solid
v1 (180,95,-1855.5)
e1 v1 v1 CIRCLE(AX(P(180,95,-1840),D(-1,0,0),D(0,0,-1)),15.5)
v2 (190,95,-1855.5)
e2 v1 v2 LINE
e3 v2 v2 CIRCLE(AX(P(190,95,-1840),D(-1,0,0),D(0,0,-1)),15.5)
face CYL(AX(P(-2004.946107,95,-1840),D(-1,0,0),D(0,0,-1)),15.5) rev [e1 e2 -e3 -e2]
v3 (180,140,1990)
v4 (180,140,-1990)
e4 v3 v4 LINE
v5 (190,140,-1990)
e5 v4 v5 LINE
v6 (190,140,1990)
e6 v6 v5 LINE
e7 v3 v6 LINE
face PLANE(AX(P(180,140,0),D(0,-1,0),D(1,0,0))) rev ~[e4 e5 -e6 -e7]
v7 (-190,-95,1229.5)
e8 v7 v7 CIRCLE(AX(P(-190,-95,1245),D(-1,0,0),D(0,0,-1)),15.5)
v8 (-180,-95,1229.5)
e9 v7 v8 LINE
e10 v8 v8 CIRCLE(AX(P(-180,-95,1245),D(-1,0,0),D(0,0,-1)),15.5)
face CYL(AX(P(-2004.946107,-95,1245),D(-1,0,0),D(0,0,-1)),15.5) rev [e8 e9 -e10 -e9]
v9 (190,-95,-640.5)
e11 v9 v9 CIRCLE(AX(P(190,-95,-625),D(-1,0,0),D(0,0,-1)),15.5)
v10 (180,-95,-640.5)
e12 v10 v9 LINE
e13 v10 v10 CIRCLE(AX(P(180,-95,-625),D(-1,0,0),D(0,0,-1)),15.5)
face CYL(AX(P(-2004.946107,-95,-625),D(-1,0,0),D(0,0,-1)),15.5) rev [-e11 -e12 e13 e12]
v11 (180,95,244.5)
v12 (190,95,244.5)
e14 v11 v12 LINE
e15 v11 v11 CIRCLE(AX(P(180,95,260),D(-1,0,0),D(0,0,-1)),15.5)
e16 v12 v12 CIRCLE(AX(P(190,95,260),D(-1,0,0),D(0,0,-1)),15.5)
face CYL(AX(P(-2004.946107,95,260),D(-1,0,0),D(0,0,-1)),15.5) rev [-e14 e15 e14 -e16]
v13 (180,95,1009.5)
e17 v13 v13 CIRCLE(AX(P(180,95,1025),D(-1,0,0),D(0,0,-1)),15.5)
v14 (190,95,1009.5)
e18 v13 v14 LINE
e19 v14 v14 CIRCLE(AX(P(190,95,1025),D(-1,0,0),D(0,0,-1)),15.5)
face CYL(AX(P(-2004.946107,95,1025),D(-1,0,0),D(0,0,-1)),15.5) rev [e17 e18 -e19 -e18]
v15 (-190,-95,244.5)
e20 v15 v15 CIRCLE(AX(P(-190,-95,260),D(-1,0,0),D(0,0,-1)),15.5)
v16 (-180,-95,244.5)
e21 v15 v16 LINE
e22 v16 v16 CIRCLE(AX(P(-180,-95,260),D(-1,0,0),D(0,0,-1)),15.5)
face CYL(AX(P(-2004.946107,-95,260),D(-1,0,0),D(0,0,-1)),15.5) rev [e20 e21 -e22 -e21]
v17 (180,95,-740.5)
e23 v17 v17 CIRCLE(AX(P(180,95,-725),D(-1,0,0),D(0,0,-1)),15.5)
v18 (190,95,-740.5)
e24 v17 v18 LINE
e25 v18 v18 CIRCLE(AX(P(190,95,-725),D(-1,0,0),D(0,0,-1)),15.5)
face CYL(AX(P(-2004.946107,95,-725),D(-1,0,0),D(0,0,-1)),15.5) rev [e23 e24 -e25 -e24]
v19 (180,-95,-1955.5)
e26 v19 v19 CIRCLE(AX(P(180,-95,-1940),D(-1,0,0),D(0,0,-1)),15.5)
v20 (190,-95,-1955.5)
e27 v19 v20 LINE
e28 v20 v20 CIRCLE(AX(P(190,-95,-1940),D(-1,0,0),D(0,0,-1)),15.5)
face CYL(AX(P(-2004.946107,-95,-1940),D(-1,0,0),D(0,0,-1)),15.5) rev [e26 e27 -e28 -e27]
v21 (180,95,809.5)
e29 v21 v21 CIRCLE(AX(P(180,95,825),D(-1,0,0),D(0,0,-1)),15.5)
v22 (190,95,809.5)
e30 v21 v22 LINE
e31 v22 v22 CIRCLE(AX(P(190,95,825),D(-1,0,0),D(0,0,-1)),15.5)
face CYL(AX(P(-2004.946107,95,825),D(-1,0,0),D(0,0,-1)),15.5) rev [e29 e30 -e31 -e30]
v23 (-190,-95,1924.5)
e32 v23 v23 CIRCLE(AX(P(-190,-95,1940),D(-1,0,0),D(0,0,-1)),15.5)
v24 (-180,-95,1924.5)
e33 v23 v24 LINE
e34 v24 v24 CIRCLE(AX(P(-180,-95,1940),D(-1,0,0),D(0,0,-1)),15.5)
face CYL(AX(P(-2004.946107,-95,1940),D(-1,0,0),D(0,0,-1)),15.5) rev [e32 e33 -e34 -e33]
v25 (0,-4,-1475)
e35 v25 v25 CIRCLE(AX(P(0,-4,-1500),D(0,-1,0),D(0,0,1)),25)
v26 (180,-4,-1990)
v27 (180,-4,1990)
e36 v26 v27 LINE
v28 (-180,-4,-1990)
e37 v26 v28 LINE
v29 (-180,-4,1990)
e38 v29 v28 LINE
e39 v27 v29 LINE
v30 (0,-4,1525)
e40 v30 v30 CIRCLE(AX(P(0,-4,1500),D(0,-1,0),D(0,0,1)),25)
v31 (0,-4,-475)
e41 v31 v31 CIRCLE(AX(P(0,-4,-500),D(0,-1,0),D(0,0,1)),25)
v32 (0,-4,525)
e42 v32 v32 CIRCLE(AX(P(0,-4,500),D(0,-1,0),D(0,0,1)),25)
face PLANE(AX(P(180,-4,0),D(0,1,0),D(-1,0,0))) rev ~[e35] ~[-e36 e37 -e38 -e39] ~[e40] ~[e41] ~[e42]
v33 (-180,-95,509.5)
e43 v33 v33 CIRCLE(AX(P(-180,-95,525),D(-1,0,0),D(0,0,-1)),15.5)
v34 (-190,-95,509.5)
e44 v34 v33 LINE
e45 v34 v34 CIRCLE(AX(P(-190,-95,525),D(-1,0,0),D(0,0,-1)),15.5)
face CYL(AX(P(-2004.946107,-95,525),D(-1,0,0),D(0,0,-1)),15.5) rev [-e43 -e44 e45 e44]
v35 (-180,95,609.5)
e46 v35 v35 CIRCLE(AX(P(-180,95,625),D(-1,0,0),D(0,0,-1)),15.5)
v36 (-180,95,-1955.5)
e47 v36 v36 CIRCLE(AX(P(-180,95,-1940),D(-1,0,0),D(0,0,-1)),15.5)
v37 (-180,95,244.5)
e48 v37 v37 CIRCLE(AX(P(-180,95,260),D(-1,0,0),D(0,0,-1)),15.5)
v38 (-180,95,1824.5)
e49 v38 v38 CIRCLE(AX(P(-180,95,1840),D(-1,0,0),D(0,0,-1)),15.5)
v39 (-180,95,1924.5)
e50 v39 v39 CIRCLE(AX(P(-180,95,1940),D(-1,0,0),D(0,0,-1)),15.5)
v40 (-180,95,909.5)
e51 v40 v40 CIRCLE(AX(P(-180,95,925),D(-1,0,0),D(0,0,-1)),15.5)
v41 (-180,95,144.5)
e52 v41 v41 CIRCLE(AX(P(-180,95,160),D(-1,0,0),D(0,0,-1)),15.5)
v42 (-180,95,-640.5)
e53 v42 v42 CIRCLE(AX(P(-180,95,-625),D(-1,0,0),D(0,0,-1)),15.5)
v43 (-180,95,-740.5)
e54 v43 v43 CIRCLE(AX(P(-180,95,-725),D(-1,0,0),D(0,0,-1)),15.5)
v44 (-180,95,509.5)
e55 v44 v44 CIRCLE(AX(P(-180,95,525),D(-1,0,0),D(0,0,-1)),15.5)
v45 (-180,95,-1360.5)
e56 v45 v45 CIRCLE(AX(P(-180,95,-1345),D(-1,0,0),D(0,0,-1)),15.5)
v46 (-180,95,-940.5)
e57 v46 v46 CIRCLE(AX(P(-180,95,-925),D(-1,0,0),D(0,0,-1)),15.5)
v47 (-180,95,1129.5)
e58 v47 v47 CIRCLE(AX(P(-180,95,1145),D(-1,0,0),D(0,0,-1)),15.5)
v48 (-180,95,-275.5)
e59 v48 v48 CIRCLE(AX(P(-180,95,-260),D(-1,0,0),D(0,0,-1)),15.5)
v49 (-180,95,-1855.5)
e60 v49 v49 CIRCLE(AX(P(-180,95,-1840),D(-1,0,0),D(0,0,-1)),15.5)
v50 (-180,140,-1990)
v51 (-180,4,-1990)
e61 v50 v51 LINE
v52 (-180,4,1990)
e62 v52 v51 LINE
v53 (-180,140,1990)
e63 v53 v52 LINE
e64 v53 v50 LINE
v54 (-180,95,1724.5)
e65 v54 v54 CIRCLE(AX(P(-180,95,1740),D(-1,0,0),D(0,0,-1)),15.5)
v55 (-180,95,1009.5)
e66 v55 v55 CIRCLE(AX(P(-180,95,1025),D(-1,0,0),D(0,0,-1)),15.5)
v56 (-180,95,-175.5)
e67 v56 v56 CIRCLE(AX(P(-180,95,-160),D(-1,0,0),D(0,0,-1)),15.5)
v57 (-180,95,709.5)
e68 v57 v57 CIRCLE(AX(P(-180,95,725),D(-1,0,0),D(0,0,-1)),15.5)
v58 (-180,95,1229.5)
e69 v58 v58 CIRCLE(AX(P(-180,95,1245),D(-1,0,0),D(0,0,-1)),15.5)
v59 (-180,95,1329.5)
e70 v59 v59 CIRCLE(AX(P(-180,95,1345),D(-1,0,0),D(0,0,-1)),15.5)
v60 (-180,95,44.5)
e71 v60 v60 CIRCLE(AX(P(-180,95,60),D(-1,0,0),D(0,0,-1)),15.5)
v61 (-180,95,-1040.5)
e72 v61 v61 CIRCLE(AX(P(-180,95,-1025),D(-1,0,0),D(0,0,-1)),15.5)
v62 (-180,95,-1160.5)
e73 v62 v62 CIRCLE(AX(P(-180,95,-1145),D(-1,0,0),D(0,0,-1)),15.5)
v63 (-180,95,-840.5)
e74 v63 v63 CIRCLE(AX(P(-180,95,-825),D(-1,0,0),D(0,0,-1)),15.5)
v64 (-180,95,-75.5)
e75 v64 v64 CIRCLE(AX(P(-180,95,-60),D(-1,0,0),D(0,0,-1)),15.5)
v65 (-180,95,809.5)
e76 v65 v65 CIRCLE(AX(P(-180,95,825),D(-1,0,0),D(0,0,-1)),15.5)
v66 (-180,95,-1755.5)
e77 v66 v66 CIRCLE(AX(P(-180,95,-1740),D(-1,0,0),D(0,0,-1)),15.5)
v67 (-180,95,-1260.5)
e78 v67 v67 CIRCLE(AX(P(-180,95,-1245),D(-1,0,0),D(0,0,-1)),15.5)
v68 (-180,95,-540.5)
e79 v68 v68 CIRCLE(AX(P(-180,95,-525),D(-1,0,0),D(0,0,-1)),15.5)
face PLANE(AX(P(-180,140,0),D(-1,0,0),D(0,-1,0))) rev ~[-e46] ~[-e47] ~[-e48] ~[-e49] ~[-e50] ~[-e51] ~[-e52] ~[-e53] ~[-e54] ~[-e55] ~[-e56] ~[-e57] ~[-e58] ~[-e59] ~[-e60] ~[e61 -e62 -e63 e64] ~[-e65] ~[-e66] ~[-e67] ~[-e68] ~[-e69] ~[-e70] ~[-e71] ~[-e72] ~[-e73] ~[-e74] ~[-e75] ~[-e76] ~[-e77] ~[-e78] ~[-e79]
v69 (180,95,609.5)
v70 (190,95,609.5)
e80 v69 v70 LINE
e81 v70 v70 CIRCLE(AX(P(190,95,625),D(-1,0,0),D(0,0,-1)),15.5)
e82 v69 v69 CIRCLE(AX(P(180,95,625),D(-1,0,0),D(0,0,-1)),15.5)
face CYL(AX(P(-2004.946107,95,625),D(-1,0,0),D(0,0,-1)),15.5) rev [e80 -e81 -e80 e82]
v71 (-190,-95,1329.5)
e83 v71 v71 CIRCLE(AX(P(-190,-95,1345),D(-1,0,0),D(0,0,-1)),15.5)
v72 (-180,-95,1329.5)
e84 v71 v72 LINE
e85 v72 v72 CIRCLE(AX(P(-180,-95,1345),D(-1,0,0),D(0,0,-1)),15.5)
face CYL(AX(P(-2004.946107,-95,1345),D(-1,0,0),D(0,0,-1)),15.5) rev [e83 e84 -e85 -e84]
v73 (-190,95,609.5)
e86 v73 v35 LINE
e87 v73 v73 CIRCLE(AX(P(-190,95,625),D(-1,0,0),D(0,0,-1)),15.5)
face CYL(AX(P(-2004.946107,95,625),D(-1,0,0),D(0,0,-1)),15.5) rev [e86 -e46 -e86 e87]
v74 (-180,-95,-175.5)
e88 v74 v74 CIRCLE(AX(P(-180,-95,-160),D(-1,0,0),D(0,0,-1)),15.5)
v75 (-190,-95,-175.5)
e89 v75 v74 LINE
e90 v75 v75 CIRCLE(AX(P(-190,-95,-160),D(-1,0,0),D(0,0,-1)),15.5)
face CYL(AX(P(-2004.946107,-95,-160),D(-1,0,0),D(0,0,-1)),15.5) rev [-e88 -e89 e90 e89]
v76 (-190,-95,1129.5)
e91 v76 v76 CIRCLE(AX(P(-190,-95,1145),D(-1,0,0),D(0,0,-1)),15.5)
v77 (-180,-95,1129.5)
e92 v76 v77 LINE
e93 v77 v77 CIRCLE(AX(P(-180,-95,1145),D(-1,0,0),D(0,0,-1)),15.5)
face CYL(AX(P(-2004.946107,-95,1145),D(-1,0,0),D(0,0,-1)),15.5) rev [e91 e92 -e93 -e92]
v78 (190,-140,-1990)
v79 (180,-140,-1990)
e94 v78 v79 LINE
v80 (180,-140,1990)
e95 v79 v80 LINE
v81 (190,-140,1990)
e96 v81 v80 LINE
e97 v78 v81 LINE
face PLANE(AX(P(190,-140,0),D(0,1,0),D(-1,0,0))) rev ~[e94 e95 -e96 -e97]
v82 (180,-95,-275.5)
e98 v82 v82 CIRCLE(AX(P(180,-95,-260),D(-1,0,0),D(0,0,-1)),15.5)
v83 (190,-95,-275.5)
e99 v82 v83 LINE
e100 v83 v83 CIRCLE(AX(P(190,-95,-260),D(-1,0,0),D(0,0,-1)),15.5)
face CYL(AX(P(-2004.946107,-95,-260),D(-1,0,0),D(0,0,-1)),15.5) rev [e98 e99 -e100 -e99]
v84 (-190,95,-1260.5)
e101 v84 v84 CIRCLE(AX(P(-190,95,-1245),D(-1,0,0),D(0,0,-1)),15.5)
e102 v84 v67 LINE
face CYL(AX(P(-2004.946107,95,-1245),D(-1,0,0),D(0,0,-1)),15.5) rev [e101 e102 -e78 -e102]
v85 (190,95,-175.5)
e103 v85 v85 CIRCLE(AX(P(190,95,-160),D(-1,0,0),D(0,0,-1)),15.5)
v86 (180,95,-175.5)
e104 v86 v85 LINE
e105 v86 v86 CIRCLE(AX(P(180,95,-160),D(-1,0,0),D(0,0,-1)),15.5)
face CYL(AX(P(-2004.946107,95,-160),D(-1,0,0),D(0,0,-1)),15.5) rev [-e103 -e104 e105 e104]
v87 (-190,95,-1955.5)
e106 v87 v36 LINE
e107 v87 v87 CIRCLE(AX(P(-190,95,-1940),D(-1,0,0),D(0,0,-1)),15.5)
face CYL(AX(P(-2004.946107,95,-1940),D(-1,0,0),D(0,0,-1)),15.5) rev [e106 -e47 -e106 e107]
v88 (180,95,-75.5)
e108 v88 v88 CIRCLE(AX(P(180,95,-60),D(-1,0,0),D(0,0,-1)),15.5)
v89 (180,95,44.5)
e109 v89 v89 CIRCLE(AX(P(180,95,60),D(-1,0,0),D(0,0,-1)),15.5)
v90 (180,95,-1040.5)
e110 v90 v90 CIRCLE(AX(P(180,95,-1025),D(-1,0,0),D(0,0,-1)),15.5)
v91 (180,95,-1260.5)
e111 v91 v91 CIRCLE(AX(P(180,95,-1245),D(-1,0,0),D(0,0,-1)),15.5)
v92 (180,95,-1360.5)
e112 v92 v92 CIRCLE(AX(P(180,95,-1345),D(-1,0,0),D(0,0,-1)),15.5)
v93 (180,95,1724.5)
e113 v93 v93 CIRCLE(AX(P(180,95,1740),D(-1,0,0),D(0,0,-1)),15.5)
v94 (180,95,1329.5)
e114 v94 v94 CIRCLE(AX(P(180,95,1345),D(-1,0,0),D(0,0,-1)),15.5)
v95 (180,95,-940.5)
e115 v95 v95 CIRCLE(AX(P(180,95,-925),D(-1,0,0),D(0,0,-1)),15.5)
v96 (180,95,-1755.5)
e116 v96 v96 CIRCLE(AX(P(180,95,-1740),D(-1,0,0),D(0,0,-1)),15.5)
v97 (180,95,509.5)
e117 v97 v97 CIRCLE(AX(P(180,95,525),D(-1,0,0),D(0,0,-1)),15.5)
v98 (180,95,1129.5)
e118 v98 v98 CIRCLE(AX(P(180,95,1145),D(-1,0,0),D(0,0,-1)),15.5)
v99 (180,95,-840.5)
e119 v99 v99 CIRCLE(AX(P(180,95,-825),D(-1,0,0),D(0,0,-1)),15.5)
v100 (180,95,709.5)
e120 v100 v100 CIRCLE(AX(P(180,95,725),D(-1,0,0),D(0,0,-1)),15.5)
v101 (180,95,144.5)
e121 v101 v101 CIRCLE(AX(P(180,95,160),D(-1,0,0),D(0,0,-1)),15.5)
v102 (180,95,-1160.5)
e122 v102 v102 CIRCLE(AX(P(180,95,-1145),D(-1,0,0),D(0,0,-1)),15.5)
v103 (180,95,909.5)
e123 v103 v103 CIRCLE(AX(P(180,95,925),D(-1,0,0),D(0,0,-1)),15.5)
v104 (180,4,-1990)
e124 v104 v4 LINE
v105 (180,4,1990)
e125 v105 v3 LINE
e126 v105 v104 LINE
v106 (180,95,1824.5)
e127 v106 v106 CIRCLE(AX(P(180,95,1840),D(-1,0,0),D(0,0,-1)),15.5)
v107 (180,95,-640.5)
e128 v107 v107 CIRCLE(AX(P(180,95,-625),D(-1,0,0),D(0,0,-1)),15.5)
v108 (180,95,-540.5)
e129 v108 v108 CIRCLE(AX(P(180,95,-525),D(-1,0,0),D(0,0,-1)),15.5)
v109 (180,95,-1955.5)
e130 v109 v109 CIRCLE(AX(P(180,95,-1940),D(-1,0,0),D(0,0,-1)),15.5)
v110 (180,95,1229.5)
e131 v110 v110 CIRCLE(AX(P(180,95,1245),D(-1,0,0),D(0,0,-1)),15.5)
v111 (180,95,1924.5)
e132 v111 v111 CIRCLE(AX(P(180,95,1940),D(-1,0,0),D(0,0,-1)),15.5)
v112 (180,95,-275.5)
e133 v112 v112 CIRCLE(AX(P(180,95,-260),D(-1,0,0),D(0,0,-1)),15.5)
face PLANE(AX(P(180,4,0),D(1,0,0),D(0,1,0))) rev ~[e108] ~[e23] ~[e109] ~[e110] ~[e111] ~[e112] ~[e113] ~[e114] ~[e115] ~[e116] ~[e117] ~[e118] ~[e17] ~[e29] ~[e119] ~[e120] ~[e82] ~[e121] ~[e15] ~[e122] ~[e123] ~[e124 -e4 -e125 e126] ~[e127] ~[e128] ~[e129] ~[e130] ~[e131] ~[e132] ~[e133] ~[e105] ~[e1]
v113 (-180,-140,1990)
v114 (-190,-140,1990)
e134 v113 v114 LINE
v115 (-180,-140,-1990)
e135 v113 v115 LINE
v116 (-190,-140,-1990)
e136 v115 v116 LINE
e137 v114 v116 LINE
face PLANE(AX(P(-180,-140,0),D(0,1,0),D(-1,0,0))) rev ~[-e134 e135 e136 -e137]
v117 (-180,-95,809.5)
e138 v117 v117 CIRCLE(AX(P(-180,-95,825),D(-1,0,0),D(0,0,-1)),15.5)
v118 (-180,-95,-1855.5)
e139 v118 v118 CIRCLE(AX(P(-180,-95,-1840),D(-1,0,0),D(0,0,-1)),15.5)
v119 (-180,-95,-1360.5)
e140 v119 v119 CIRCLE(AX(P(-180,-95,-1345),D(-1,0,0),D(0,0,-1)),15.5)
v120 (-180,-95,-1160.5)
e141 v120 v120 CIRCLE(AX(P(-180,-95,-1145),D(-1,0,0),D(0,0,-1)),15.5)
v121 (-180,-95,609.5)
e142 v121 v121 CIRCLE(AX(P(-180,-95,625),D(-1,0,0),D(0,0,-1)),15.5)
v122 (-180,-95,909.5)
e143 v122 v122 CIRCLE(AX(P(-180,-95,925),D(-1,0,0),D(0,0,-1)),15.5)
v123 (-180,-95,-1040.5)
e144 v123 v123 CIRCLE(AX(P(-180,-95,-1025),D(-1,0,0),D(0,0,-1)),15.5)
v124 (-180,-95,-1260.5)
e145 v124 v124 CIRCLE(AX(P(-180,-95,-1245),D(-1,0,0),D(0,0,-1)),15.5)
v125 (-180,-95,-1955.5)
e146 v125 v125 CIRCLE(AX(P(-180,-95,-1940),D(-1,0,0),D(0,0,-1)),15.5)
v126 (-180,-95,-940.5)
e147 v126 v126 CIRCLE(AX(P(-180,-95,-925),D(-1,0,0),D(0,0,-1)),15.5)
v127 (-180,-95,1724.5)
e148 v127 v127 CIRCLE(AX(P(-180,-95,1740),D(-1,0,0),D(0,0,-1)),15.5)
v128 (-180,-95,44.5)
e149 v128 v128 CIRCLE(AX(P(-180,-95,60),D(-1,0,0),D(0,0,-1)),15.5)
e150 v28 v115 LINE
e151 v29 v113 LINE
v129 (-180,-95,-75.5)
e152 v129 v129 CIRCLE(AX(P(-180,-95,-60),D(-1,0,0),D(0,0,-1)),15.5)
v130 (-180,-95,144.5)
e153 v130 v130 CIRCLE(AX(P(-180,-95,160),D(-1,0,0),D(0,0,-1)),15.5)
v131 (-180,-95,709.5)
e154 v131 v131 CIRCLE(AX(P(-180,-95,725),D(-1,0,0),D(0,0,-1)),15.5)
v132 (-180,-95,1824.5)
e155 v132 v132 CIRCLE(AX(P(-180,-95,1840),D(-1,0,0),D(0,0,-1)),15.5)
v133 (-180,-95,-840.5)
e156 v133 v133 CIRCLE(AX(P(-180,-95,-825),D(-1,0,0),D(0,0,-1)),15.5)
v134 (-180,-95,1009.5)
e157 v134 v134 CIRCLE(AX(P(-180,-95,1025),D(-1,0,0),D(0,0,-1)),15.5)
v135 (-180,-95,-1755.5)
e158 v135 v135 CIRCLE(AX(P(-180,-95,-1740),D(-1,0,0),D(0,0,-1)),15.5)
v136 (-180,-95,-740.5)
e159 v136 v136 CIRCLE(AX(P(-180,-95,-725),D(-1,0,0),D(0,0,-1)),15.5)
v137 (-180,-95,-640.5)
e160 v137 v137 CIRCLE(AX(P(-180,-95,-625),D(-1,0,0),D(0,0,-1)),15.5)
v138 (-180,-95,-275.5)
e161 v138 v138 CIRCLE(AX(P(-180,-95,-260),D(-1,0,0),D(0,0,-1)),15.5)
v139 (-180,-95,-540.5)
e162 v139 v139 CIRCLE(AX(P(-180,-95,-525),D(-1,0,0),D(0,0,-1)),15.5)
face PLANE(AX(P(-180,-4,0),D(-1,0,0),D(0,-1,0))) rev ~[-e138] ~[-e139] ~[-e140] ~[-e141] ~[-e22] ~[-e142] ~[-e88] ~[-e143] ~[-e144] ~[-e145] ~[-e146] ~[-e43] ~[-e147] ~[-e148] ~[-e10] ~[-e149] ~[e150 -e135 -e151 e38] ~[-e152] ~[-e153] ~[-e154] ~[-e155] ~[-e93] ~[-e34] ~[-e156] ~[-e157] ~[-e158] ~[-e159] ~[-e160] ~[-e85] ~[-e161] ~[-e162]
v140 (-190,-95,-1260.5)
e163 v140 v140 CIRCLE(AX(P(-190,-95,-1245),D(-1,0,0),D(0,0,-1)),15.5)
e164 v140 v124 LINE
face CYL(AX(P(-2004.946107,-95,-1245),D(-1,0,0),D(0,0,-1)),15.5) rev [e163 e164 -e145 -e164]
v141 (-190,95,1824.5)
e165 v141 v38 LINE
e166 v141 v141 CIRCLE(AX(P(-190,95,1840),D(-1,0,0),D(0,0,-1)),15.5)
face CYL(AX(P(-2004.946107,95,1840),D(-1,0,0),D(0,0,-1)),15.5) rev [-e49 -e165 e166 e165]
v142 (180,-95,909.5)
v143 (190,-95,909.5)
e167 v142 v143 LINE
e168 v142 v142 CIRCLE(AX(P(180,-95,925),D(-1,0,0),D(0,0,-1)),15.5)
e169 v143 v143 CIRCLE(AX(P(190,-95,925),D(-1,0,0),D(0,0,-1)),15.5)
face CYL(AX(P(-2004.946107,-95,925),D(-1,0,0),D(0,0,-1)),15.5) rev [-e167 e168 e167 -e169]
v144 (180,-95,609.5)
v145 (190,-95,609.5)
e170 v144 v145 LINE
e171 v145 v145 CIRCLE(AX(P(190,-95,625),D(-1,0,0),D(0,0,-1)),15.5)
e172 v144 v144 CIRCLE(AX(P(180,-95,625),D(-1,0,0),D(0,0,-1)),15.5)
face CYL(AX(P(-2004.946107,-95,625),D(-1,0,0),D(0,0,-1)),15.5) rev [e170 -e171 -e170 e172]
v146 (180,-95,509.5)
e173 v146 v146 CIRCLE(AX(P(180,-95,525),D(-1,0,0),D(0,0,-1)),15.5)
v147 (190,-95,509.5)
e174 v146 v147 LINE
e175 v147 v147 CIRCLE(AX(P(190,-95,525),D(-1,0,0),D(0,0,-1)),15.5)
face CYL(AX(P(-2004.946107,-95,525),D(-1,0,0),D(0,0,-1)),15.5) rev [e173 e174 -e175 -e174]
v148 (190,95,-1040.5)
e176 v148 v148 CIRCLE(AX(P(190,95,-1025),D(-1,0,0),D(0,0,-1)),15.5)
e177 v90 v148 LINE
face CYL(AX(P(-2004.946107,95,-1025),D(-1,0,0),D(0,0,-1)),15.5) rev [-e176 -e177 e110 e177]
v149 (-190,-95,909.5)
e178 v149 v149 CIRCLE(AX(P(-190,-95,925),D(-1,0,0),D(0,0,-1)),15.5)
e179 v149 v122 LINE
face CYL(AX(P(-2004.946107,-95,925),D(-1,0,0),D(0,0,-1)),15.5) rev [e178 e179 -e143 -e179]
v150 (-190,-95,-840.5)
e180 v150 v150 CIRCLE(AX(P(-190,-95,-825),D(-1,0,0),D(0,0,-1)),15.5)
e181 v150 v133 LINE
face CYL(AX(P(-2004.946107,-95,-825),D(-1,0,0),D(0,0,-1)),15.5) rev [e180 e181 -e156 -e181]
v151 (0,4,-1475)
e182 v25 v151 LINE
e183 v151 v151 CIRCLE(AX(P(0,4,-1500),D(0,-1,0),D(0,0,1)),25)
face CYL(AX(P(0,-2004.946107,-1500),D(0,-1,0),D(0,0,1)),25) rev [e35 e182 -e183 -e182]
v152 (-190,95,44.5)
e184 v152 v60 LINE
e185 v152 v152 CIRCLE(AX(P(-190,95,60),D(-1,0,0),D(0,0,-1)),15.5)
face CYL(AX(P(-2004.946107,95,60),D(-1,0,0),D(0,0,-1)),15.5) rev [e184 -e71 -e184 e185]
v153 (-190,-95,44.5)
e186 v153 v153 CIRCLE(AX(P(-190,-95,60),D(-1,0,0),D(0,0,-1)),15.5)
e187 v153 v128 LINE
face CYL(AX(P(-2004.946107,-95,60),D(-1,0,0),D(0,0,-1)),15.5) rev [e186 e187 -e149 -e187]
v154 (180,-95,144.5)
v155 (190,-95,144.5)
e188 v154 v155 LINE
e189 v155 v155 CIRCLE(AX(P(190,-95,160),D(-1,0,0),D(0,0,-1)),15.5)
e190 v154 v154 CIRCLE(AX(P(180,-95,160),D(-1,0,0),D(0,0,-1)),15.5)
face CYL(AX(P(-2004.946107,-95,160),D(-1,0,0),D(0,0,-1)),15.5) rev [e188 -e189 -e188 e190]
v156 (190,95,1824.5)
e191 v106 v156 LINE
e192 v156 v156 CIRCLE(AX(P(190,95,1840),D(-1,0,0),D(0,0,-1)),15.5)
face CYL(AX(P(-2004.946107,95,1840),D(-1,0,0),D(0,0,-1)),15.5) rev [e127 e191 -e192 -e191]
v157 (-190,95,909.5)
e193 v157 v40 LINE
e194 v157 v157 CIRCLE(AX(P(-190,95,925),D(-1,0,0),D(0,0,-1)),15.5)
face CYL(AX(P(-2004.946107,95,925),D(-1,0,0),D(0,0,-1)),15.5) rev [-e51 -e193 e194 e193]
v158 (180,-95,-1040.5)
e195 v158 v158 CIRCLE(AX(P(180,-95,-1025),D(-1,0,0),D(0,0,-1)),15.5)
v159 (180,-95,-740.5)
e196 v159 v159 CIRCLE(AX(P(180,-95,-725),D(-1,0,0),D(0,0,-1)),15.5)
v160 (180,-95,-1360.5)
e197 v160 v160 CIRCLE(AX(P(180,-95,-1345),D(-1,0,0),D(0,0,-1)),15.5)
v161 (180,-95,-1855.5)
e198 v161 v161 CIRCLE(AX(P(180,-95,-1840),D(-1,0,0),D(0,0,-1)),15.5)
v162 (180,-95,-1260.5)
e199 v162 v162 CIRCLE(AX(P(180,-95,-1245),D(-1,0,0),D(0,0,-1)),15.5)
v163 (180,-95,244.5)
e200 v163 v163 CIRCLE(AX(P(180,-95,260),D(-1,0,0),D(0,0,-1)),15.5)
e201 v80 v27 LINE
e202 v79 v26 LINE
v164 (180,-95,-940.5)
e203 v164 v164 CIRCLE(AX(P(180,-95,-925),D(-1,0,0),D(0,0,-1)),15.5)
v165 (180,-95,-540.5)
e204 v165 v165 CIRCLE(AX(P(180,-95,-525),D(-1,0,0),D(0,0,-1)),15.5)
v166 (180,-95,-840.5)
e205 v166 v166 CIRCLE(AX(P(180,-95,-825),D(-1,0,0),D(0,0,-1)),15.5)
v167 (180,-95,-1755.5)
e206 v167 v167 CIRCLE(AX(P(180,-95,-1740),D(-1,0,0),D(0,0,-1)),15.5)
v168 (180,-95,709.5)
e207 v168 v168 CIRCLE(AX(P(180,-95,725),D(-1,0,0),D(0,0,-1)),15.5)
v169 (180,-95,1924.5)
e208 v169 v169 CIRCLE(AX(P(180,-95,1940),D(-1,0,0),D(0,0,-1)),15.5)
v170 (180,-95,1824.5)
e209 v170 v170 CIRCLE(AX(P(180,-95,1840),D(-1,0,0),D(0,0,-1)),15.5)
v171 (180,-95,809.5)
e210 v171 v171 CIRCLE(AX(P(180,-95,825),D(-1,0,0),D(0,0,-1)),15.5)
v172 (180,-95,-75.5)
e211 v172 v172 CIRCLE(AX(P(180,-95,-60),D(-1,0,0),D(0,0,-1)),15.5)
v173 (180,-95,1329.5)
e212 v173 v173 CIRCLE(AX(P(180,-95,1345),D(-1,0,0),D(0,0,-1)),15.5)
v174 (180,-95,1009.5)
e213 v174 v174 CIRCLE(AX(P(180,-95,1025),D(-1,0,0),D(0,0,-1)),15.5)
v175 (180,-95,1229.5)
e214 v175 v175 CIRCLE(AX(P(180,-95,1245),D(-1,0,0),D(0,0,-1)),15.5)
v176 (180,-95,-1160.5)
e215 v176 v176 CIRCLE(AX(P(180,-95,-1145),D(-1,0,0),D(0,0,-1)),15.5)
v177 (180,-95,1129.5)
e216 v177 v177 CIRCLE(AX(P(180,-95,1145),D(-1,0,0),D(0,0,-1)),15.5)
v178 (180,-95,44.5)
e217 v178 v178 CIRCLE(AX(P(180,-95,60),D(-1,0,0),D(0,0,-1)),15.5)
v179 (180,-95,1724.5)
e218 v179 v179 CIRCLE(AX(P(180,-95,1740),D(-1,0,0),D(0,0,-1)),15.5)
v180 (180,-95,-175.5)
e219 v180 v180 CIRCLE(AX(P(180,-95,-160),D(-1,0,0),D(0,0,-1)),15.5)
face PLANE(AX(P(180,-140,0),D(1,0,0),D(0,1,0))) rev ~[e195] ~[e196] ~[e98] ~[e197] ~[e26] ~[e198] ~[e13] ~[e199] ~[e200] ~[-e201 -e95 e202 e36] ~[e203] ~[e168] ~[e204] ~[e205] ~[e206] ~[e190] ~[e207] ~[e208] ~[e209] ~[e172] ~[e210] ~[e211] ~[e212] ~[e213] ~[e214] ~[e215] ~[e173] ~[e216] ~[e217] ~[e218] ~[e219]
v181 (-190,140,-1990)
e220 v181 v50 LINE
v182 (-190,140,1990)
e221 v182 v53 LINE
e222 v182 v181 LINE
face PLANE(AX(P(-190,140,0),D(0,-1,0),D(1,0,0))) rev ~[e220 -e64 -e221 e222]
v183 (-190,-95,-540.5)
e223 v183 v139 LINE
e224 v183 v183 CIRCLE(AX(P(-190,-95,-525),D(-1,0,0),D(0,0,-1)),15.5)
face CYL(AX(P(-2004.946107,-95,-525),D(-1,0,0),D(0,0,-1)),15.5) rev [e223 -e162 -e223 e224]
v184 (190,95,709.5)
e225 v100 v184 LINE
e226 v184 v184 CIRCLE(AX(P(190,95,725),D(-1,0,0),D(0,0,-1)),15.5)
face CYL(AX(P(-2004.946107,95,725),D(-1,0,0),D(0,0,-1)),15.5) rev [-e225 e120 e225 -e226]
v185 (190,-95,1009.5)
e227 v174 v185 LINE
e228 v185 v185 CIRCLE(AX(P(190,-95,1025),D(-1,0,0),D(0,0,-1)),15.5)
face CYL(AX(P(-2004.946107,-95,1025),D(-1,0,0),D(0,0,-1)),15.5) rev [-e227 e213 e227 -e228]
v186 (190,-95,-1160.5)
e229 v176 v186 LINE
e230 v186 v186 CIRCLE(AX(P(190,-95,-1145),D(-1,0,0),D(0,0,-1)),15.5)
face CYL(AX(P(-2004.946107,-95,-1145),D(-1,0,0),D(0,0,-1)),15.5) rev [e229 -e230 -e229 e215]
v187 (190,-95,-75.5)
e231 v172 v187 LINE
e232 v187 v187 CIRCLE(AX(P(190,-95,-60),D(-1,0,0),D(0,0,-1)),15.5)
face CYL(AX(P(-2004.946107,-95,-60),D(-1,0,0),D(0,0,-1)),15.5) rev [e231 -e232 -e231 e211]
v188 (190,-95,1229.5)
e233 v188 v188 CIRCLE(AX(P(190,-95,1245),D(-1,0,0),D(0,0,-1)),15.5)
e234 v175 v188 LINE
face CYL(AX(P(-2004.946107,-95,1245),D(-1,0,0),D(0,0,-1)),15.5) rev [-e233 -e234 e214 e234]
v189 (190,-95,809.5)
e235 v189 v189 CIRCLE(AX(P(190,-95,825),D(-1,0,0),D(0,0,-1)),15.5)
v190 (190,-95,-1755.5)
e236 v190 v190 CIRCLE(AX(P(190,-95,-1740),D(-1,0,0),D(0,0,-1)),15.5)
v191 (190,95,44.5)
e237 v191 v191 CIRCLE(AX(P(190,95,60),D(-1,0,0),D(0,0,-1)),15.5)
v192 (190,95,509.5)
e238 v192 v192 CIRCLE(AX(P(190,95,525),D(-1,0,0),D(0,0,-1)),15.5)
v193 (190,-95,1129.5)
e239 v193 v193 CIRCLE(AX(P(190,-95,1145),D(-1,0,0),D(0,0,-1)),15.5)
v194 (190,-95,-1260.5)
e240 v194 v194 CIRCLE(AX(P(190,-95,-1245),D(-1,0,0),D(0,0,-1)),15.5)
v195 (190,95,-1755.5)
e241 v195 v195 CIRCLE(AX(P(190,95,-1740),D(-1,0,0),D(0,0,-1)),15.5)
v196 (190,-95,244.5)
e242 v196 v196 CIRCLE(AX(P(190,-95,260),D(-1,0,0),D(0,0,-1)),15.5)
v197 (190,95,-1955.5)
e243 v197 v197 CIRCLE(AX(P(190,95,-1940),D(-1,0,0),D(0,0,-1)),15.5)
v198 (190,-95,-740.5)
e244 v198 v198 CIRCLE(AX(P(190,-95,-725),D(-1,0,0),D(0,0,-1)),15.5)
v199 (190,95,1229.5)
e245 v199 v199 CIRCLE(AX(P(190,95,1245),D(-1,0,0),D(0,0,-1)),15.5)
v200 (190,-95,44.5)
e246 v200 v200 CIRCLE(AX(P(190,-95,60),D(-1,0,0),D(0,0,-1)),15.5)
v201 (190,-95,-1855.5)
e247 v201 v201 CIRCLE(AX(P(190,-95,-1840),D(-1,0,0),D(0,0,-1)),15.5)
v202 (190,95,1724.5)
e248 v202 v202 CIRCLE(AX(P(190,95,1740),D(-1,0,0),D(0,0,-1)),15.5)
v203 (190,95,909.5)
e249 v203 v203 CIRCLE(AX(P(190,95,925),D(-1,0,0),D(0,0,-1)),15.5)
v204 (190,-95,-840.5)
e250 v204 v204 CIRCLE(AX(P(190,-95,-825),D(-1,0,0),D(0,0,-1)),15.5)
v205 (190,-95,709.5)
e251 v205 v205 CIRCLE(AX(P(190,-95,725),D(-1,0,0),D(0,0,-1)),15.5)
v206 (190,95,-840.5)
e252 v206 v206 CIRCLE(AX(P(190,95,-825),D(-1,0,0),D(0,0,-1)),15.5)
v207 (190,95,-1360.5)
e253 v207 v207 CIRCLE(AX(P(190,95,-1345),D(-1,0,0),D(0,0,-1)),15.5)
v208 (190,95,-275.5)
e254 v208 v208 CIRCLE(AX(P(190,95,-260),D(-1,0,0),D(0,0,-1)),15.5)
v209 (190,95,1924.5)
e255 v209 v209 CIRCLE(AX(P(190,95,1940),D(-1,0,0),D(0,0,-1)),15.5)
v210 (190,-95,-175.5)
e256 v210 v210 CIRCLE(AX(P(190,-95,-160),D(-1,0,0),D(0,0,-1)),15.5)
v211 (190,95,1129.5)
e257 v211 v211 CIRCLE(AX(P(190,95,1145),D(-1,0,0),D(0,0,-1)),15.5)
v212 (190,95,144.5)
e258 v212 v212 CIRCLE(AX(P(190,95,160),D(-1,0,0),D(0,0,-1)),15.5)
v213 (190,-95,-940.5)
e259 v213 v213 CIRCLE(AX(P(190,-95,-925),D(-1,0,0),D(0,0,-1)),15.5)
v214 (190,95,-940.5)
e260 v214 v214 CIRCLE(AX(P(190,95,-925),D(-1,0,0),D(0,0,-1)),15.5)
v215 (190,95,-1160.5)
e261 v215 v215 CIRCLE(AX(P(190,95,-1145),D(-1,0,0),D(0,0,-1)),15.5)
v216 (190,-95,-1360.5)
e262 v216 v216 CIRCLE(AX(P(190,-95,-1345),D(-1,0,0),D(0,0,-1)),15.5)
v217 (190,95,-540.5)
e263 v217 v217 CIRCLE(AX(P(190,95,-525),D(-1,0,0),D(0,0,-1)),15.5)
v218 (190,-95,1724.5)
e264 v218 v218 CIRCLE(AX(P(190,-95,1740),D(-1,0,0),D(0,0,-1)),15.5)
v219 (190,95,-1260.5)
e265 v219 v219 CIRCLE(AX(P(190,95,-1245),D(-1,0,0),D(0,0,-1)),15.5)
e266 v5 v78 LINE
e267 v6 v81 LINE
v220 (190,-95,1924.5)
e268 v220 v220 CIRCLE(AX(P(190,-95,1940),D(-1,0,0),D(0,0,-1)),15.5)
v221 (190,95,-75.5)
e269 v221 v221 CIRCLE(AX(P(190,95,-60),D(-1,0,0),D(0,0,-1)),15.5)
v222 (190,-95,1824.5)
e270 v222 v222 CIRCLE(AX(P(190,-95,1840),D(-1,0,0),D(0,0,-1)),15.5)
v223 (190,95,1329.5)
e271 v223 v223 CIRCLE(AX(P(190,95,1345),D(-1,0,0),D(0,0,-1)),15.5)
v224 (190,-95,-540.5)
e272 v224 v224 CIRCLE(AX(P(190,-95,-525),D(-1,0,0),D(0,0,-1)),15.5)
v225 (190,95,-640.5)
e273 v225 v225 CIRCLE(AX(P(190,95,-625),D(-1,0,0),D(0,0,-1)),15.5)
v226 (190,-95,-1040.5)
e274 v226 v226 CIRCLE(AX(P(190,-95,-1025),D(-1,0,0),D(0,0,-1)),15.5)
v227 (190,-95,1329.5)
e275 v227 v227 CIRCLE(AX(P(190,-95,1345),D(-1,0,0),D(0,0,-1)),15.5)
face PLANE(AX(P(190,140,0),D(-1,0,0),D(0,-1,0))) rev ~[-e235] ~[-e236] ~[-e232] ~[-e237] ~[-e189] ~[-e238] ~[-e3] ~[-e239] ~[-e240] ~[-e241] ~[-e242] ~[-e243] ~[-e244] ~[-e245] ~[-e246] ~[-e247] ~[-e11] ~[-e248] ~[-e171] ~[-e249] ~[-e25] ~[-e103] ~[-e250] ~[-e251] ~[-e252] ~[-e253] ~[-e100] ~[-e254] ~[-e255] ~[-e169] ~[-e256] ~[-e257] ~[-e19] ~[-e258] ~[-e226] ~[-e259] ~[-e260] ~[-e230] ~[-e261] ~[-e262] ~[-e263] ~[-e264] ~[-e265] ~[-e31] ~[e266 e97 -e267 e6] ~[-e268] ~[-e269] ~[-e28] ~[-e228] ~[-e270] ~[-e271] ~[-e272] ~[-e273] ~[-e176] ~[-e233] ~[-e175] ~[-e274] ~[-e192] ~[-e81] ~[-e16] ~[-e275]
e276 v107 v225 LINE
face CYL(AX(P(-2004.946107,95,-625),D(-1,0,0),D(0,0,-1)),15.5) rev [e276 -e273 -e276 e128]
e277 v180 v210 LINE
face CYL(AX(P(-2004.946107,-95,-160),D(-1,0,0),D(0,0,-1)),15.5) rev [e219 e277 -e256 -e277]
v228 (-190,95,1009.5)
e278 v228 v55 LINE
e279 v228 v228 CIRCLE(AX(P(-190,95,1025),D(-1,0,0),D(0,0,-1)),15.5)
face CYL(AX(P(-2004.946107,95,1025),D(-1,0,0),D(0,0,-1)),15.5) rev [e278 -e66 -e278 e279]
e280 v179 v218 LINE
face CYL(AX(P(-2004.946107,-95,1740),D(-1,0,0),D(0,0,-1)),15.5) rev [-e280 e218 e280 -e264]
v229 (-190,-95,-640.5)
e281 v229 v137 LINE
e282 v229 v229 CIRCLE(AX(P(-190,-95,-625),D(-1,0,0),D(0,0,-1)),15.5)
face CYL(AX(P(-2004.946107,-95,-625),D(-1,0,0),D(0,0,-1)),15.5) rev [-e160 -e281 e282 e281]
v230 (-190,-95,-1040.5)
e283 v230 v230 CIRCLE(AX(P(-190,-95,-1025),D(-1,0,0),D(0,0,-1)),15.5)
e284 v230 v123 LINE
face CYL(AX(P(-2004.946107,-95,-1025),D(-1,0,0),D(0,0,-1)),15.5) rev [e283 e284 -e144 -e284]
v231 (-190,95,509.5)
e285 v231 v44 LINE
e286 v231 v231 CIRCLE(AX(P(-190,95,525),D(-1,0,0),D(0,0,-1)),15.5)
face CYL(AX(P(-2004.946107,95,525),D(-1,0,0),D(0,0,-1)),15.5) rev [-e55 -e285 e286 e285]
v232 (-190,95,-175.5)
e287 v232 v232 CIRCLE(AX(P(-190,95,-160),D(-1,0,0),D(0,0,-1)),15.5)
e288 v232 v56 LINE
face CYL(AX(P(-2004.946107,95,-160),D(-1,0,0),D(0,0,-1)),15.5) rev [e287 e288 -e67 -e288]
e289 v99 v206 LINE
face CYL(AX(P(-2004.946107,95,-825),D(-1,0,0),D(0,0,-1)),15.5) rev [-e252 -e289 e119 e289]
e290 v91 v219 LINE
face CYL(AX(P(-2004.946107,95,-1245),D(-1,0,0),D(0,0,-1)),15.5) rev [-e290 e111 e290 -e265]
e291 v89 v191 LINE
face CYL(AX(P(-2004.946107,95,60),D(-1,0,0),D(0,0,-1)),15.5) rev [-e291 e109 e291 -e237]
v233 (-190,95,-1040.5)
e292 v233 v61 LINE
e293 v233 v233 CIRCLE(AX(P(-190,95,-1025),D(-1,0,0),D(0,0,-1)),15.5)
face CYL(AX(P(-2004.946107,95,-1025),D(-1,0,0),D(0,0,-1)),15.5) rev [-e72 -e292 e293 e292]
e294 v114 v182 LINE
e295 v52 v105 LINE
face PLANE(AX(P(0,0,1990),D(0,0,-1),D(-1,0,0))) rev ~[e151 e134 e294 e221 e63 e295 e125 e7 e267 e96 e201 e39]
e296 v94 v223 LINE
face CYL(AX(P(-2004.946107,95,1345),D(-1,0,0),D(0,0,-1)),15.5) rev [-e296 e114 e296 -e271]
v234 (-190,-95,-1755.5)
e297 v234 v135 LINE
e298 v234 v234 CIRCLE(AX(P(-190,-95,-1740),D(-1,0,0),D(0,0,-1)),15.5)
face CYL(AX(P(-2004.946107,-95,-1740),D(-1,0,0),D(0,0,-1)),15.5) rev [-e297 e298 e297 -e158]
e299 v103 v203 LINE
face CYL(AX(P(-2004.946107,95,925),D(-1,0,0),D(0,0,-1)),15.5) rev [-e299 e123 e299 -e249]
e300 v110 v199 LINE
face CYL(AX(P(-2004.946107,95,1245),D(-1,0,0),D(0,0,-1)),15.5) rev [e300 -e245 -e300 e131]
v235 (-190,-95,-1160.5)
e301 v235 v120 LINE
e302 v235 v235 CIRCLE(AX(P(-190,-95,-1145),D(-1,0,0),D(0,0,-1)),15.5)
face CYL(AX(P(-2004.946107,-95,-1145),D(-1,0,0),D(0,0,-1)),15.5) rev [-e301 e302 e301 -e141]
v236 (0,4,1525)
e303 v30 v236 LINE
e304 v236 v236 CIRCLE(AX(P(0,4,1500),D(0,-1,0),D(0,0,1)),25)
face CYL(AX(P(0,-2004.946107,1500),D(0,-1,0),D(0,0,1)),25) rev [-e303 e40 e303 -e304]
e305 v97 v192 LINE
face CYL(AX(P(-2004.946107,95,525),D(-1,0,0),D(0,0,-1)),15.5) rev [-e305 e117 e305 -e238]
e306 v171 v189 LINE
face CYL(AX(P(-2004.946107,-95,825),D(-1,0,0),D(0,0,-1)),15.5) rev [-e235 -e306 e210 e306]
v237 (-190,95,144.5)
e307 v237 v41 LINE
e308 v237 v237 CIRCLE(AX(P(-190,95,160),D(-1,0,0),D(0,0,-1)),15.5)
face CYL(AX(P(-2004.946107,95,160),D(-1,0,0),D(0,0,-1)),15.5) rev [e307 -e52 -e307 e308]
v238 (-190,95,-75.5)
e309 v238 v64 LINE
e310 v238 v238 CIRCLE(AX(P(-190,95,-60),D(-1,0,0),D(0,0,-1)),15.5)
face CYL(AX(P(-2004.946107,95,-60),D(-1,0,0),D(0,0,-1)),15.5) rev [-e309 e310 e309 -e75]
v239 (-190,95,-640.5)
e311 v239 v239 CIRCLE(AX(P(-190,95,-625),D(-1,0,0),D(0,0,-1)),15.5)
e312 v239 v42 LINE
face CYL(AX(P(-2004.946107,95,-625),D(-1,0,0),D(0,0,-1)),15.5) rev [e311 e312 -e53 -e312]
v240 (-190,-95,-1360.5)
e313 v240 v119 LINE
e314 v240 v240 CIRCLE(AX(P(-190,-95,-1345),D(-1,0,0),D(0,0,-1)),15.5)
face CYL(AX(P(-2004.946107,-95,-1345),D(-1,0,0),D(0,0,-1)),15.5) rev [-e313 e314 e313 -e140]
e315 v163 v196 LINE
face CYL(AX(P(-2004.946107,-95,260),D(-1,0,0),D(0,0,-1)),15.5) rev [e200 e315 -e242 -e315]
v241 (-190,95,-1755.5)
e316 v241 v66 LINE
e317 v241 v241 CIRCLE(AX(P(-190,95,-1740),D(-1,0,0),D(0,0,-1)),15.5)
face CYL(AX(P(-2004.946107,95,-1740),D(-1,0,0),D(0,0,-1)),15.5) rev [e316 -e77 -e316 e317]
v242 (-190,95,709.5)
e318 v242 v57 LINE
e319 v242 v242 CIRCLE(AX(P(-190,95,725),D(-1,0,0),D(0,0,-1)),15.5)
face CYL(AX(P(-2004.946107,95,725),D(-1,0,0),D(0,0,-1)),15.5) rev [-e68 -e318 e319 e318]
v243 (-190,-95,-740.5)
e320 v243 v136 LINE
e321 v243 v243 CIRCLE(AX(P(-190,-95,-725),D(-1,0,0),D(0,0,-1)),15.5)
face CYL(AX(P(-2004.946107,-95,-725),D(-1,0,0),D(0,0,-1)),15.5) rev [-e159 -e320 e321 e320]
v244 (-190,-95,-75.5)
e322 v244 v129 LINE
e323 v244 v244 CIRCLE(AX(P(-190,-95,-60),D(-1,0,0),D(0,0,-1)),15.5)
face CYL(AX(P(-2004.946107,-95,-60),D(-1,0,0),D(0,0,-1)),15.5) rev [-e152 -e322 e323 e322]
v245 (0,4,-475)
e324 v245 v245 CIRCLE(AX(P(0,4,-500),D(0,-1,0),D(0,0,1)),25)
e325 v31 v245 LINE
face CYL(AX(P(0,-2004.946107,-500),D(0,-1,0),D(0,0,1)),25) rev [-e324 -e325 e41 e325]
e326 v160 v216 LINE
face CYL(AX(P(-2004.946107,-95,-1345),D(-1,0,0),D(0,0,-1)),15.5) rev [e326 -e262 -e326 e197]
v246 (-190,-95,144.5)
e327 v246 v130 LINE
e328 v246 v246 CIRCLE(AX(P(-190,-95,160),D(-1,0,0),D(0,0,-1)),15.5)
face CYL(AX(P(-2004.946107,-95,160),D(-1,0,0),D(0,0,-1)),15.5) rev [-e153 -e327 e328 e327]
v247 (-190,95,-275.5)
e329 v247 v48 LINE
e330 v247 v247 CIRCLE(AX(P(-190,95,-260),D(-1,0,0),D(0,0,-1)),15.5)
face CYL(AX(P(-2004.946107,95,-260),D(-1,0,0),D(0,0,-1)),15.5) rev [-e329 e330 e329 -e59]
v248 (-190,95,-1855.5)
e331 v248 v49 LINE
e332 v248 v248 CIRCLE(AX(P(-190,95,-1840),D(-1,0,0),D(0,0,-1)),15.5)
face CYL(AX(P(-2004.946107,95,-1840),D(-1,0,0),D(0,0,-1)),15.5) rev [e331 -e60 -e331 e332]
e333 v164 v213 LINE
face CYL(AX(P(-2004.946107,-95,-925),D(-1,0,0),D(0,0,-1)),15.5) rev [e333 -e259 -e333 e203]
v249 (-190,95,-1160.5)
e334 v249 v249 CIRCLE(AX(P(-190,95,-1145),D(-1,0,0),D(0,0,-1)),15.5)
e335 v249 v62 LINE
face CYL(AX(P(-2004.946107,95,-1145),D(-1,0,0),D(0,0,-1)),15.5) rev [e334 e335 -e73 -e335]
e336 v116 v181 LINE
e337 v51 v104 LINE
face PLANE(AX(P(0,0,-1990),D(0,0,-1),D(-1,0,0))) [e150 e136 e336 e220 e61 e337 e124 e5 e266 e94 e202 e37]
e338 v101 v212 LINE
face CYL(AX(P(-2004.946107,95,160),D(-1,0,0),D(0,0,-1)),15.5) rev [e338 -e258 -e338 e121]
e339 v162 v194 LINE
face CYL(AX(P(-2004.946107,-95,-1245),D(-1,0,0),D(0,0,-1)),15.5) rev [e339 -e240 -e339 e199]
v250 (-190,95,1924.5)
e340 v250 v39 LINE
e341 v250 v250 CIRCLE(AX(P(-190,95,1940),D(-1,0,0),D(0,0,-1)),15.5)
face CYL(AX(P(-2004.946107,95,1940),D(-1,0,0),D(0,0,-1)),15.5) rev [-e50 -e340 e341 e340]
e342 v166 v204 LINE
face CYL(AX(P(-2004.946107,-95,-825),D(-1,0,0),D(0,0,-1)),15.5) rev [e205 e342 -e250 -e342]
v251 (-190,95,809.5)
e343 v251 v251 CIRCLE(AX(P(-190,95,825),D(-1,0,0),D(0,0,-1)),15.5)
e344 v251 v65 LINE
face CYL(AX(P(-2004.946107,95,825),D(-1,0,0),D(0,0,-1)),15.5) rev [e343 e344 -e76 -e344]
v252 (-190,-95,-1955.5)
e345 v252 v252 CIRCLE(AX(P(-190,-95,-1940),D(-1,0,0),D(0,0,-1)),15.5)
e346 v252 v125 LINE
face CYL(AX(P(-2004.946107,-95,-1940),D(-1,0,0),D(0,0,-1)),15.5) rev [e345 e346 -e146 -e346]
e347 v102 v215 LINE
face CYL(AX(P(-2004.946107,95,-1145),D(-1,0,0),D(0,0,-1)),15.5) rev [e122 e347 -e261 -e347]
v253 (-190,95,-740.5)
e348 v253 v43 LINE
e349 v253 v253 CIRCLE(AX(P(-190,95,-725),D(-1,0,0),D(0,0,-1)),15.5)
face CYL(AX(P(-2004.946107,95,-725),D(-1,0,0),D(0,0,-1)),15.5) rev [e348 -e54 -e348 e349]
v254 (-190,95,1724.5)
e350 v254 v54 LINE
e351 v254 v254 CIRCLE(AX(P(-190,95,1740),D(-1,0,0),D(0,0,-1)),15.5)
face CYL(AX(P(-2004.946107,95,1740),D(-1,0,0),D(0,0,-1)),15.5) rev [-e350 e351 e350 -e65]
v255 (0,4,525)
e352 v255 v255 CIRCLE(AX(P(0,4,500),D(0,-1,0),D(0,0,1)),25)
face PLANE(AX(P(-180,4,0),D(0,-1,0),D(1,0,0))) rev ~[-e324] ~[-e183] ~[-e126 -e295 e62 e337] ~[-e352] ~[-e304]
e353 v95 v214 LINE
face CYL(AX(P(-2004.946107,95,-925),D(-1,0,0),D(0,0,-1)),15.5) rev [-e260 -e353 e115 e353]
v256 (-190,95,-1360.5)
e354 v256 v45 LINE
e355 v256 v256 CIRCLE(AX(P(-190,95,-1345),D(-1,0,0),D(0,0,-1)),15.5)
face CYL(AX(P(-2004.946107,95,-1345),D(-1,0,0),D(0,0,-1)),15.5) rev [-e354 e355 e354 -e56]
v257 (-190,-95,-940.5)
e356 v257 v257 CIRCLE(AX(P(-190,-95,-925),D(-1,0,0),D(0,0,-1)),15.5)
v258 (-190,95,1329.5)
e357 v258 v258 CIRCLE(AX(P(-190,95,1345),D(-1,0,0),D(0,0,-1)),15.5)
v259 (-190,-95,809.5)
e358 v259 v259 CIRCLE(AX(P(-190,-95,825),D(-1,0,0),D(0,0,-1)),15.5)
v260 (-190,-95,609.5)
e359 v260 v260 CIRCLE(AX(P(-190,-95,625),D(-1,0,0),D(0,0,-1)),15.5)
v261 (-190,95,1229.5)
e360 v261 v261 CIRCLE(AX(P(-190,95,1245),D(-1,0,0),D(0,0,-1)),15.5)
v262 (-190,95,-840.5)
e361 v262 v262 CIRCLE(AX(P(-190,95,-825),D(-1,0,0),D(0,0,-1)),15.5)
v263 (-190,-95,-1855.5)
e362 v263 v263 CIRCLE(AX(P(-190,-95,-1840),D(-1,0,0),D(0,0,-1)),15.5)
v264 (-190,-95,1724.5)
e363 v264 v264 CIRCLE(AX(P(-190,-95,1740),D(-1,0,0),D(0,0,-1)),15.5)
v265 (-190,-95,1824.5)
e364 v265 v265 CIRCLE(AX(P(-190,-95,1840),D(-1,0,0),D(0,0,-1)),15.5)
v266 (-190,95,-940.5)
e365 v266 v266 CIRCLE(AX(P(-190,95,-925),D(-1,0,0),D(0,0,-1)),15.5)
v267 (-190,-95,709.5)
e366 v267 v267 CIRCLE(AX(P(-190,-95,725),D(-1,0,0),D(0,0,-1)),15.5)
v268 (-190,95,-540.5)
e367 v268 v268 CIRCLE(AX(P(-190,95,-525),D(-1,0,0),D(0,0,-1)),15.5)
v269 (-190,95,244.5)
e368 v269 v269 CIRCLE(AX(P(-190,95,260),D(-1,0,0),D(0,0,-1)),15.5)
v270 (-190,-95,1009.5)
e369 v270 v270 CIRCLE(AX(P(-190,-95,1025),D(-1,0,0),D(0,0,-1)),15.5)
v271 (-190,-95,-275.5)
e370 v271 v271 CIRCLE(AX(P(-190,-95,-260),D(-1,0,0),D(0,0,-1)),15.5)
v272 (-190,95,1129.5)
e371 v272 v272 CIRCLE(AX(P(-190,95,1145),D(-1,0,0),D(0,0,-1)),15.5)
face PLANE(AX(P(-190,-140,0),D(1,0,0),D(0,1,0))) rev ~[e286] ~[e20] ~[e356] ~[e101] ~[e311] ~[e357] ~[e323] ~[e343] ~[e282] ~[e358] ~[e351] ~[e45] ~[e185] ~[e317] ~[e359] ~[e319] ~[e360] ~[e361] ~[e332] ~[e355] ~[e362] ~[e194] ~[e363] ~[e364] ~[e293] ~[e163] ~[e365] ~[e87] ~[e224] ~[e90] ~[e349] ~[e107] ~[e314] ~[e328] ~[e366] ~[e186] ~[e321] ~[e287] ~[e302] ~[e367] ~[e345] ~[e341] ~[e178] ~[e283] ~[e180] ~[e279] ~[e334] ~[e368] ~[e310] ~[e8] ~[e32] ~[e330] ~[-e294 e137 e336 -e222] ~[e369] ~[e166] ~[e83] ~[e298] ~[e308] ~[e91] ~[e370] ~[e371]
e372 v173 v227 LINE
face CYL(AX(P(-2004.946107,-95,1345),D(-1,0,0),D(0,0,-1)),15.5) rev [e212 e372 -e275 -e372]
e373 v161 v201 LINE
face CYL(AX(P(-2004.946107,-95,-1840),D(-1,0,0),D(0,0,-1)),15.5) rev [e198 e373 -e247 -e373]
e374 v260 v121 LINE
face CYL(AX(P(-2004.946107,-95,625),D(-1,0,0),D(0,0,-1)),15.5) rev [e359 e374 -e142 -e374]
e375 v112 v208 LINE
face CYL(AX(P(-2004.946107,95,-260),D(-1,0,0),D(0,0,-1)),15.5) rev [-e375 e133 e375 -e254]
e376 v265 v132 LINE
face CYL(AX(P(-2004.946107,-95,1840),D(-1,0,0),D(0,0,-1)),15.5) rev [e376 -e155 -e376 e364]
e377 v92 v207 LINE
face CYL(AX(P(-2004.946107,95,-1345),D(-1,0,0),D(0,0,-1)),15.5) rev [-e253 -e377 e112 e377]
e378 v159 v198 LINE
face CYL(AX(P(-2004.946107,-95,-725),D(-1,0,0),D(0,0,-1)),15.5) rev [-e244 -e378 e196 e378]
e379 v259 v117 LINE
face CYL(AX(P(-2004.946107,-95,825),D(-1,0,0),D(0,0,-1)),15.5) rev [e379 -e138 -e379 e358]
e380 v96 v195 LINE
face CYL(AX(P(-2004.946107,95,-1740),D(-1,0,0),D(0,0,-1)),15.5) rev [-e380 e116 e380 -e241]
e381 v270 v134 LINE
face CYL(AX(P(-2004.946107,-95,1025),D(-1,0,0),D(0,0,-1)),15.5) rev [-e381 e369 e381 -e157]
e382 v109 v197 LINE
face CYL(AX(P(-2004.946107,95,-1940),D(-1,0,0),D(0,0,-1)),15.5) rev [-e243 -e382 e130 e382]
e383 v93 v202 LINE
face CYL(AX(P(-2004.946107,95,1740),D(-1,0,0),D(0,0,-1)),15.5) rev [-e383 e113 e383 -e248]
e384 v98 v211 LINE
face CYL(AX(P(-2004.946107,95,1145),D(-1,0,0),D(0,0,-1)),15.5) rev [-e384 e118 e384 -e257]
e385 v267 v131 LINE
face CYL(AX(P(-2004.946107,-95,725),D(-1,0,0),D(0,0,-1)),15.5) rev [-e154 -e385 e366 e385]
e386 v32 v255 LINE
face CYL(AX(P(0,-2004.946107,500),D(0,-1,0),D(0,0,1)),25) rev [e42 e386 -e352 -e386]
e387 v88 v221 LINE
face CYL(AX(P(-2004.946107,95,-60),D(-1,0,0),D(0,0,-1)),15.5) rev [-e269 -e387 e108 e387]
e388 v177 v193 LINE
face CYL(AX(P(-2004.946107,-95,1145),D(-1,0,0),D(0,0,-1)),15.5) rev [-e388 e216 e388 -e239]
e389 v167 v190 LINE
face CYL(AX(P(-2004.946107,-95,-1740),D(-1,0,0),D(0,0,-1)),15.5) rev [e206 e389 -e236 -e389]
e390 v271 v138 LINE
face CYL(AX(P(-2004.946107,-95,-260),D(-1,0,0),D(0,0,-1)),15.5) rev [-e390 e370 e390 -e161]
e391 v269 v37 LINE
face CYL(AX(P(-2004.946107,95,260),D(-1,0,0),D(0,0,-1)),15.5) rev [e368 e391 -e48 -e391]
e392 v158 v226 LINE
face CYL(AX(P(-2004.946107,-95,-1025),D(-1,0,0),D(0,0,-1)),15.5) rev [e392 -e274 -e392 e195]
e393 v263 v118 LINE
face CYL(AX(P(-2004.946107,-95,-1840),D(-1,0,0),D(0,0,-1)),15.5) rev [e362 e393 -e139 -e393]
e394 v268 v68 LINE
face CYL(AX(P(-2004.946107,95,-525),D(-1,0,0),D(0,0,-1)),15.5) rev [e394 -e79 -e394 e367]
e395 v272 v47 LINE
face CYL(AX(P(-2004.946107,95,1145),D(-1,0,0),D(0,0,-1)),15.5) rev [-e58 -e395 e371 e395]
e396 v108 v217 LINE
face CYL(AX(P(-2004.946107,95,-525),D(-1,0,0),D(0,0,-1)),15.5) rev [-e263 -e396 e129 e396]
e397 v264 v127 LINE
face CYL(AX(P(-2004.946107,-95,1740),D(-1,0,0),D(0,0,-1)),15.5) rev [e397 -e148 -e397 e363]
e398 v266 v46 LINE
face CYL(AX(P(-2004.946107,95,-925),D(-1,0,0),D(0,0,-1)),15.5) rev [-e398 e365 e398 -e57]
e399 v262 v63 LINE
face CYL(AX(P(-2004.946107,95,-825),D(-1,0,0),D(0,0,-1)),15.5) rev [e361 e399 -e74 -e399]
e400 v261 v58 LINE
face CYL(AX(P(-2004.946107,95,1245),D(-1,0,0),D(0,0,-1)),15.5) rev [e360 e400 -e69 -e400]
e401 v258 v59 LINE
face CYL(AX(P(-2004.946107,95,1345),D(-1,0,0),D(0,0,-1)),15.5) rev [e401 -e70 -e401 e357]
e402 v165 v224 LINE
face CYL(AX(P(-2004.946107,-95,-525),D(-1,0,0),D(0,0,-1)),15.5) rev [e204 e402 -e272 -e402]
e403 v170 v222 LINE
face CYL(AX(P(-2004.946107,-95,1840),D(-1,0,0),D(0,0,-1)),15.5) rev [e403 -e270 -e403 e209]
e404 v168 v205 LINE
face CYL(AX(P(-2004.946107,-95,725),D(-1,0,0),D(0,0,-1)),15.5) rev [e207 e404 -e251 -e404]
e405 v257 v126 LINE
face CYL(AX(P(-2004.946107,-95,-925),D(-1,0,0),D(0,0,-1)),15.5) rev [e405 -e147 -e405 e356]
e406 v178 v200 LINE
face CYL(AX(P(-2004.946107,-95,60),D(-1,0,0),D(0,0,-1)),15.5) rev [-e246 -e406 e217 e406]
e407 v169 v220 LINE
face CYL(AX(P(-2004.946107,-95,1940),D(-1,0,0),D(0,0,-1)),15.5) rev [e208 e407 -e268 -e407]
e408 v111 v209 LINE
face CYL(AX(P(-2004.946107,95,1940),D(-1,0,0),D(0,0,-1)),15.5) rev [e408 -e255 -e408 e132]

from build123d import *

# Parameters (mm, degrees)
EXTRUDE_1_DEPTH          = 1990
CUT_EXTRUDE_2_DEPTH      = 2004.94610706
CUT_EXTRUDE_2_DEPTH_BACK = 2004.94610706
SKETCH_6_R               = 25
CUT_EXTRUDE_6_DEPTH      = 2004.94610706
CUT_EXTRUDE_6_DEPTH_BACK = 2004.94610706
SKETCH_4_R               = 15.5


with BuildPart() as part:
    # 草图3 → 拉伸1 (new, symmetric)
    with BuildSketch(Plane.XY):
        Polygon((180, -4), (-180, -4), (-180, -140), (-190, -140), (-190, 140), (-180, 140), (-180, 4), (180, 4), (180, 140), (190, 140), (190, -140), (180, -140), align=None)
    extrude(amount=EXTRUDE_1_DEPTH, both=True)

    # 草图6 → 拉伸2 (cut, two sides: drawn at the far end of the back side and taken through both)
    with BuildSketch(Plane(origin=(0, 0, 0), x_dir=(1, 0, 0), z_dir=(0, 1, 0)).offset(-CUT_EXTRUDE_2_DEPTH_BACK)):
        with Locations(Location((0, 500, 0), (0, 0, 270))):
            Circle(SKETCH_6_R)
        with Locations(Location((0, 1500, 0), (0, 0, 270))):
            Circle(SKETCH_6_R)
        with Locations(Location((0, -1500, 0), (0, 0, 270))):
            Circle(SKETCH_6_R)
        with Locations(Location((0, -500, 0), (0, 0, 270))):
            Circle(SKETCH_6_R)
    extrude(amount=CUT_EXTRUDE_2_DEPTH + CUT_EXTRUDE_2_DEPTH_BACK, mode=Mode.SUBTRACT)

    # 草图4 → 拉伸6 (cut, two sides: drawn at the far end of the back side and taken through both)
    with BuildSketch(Plane(origin=(0, 0, 0), x_dir=(0, 0, -1), z_dir=(1, 0, 0)).offset(-CUT_EXTRUDE_6_DEPTH_BACK)):
        with Locations((-1940, 95)):
            Circle(SKETCH_4_R)
        with Locations((-1840, 95)):
            Circle(SKETCH_4_R)
        with Locations((-1740, 95)):
            Circle(SKETCH_4_R)
        with Locations((-1345, 95)):
            Circle(SKETCH_4_R)
        with Locations((-1245, 95)):
            Circle(SKETCH_4_R)
        with Locations((-1145, 95)):
            Circle(SKETCH_4_R)
        with Locations((-260, 95)):
            Circle(SKETCH_4_R)
        with Locations((-160, 95)):
            Circle(SKETCH_4_R)
        with Locations((-60, 95)):
            Circle(SKETCH_4_R)
        with Locations((-525, -95)):
            Circle(SKETCH_4_R)
        with Locations((-625, -95)):
            Circle(SKETCH_4_R)
        with Locations((-725, -95)):
            Circle(SKETCH_4_R)
        with Locations((-825, -95)):
            Circle(SKETCH_4_R)
        with Locations((-925, -95)):
            Circle(SKETCH_4_R)
        with Locations((-1025, -95)):
            Circle(SKETCH_4_R)
        with Locations((-60, -95)):
            Circle(SKETCH_4_R)
        with Locations((-160, -95)):
            Circle(SKETCH_4_R)
        with Locations((-260, -95)):
            Circle(SKETCH_4_R)
        with Locations((-1145, -95)):
            Circle(SKETCH_4_R)
        with Locations((-1245, -95)):
            Circle(SKETCH_4_R)
        with Locations((-1345, -95)):
            Circle(SKETCH_4_R)
        with Locations((-1740, -95)):
            Circle(SKETCH_4_R)
        with Locations((-1840, -95)):
            Circle(SKETCH_4_R)
        with Locations((-1940, -95)):
            Circle(SKETCH_4_R)
        with Locations((-1025, 95)):
            Circle(SKETCH_4_R)
        with Locations((-925, 95)):
            Circle(SKETCH_4_R)
        with Locations((-825, 95)):
            Circle(SKETCH_4_R)
        with Locations((-725, 95)):
            Circle(SKETCH_4_R)
        with Locations((-625, 95)):
            Circle(SKETCH_4_R)
        with Locations((-525, 95)):
            Circle(SKETCH_4_R)
        with Locations((525, 95)):
            Circle(SKETCH_4_R)
        with Locations((625, 95)):
            Circle(SKETCH_4_R)
        with Locations((725, 95)):
            Circle(SKETCH_4_R)
        with Locations((825, 95)):
            Circle(SKETCH_4_R)
        with Locations((925, 95)):
            Circle(SKETCH_4_R)
        with Locations((1025, 95)):
            Circle(SKETCH_4_R)
        with Locations((1940, -95)):
            Circle(SKETCH_4_R)
        with Locations((1840, -95)):
            Circle(SKETCH_4_R)
        with Locations((1740, -95)):
            Circle(SKETCH_4_R)
        with Locations((1345, -95)):
            Circle(SKETCH_4_R)
        with Locations((1245, -95)):
            Circle(SKETCH_4_R)
        with Locations((1145, -95)):
            Circle(SKETCH_4_R)
        with Locations((260, -95)):
            Circle(SKETCH_4_R)
        with Locations((160, -95)):
            Circle(SKETCH_4_R)
        with Locations((60, -95)):
            Circle(SKETCH_4_R)
        with Locations((1025, -95)):
            Circle(SKETCH_4_R)
        with Locations((925, -95)):
            Circle(SKETCH_4_R)
        with Locations((825, -95)):
            Circle(SKETCH_4_R)
        with Locations((725, -95)):
            Circle(SKETCH_4_R)
        with Locations((625, -95)):
            Circle(SKETCH_4_R)
        with Locations((525, -95)):
            Circle(SKETCH_4_R)
        with Locations((60, 95)):
            Circle(SKETCH_4_R)
        with Locations((160, 95)):
            Circle(SKETCH_4_R)
        with Locations((260, 95)):
            Circle(SKETCH_4_R)
        with Locations((1145, 95)):
            Circle(SKETCH_4_R)
        with Locations((1245, 95)):
            Circle(SKETCH_4_R)
        with Locations((1345, 95)):
            Circle(SKETCH_4_R)
        with Locations((1740, 95)):
            Circle(SKETCH_4_R)
        with Locations((1840, 95)):
            Circle(SKETCH_4_R)
        with Locations((1940, 95)):
            Circle(SKETCH_4_R)
    extrude(amount=CUT_EXTRUDE_6_DEPTH + CUT_EXTRUDE_6_DEPTH_BACK, mode=Mode.SUBTRACT)


solid = part.part
